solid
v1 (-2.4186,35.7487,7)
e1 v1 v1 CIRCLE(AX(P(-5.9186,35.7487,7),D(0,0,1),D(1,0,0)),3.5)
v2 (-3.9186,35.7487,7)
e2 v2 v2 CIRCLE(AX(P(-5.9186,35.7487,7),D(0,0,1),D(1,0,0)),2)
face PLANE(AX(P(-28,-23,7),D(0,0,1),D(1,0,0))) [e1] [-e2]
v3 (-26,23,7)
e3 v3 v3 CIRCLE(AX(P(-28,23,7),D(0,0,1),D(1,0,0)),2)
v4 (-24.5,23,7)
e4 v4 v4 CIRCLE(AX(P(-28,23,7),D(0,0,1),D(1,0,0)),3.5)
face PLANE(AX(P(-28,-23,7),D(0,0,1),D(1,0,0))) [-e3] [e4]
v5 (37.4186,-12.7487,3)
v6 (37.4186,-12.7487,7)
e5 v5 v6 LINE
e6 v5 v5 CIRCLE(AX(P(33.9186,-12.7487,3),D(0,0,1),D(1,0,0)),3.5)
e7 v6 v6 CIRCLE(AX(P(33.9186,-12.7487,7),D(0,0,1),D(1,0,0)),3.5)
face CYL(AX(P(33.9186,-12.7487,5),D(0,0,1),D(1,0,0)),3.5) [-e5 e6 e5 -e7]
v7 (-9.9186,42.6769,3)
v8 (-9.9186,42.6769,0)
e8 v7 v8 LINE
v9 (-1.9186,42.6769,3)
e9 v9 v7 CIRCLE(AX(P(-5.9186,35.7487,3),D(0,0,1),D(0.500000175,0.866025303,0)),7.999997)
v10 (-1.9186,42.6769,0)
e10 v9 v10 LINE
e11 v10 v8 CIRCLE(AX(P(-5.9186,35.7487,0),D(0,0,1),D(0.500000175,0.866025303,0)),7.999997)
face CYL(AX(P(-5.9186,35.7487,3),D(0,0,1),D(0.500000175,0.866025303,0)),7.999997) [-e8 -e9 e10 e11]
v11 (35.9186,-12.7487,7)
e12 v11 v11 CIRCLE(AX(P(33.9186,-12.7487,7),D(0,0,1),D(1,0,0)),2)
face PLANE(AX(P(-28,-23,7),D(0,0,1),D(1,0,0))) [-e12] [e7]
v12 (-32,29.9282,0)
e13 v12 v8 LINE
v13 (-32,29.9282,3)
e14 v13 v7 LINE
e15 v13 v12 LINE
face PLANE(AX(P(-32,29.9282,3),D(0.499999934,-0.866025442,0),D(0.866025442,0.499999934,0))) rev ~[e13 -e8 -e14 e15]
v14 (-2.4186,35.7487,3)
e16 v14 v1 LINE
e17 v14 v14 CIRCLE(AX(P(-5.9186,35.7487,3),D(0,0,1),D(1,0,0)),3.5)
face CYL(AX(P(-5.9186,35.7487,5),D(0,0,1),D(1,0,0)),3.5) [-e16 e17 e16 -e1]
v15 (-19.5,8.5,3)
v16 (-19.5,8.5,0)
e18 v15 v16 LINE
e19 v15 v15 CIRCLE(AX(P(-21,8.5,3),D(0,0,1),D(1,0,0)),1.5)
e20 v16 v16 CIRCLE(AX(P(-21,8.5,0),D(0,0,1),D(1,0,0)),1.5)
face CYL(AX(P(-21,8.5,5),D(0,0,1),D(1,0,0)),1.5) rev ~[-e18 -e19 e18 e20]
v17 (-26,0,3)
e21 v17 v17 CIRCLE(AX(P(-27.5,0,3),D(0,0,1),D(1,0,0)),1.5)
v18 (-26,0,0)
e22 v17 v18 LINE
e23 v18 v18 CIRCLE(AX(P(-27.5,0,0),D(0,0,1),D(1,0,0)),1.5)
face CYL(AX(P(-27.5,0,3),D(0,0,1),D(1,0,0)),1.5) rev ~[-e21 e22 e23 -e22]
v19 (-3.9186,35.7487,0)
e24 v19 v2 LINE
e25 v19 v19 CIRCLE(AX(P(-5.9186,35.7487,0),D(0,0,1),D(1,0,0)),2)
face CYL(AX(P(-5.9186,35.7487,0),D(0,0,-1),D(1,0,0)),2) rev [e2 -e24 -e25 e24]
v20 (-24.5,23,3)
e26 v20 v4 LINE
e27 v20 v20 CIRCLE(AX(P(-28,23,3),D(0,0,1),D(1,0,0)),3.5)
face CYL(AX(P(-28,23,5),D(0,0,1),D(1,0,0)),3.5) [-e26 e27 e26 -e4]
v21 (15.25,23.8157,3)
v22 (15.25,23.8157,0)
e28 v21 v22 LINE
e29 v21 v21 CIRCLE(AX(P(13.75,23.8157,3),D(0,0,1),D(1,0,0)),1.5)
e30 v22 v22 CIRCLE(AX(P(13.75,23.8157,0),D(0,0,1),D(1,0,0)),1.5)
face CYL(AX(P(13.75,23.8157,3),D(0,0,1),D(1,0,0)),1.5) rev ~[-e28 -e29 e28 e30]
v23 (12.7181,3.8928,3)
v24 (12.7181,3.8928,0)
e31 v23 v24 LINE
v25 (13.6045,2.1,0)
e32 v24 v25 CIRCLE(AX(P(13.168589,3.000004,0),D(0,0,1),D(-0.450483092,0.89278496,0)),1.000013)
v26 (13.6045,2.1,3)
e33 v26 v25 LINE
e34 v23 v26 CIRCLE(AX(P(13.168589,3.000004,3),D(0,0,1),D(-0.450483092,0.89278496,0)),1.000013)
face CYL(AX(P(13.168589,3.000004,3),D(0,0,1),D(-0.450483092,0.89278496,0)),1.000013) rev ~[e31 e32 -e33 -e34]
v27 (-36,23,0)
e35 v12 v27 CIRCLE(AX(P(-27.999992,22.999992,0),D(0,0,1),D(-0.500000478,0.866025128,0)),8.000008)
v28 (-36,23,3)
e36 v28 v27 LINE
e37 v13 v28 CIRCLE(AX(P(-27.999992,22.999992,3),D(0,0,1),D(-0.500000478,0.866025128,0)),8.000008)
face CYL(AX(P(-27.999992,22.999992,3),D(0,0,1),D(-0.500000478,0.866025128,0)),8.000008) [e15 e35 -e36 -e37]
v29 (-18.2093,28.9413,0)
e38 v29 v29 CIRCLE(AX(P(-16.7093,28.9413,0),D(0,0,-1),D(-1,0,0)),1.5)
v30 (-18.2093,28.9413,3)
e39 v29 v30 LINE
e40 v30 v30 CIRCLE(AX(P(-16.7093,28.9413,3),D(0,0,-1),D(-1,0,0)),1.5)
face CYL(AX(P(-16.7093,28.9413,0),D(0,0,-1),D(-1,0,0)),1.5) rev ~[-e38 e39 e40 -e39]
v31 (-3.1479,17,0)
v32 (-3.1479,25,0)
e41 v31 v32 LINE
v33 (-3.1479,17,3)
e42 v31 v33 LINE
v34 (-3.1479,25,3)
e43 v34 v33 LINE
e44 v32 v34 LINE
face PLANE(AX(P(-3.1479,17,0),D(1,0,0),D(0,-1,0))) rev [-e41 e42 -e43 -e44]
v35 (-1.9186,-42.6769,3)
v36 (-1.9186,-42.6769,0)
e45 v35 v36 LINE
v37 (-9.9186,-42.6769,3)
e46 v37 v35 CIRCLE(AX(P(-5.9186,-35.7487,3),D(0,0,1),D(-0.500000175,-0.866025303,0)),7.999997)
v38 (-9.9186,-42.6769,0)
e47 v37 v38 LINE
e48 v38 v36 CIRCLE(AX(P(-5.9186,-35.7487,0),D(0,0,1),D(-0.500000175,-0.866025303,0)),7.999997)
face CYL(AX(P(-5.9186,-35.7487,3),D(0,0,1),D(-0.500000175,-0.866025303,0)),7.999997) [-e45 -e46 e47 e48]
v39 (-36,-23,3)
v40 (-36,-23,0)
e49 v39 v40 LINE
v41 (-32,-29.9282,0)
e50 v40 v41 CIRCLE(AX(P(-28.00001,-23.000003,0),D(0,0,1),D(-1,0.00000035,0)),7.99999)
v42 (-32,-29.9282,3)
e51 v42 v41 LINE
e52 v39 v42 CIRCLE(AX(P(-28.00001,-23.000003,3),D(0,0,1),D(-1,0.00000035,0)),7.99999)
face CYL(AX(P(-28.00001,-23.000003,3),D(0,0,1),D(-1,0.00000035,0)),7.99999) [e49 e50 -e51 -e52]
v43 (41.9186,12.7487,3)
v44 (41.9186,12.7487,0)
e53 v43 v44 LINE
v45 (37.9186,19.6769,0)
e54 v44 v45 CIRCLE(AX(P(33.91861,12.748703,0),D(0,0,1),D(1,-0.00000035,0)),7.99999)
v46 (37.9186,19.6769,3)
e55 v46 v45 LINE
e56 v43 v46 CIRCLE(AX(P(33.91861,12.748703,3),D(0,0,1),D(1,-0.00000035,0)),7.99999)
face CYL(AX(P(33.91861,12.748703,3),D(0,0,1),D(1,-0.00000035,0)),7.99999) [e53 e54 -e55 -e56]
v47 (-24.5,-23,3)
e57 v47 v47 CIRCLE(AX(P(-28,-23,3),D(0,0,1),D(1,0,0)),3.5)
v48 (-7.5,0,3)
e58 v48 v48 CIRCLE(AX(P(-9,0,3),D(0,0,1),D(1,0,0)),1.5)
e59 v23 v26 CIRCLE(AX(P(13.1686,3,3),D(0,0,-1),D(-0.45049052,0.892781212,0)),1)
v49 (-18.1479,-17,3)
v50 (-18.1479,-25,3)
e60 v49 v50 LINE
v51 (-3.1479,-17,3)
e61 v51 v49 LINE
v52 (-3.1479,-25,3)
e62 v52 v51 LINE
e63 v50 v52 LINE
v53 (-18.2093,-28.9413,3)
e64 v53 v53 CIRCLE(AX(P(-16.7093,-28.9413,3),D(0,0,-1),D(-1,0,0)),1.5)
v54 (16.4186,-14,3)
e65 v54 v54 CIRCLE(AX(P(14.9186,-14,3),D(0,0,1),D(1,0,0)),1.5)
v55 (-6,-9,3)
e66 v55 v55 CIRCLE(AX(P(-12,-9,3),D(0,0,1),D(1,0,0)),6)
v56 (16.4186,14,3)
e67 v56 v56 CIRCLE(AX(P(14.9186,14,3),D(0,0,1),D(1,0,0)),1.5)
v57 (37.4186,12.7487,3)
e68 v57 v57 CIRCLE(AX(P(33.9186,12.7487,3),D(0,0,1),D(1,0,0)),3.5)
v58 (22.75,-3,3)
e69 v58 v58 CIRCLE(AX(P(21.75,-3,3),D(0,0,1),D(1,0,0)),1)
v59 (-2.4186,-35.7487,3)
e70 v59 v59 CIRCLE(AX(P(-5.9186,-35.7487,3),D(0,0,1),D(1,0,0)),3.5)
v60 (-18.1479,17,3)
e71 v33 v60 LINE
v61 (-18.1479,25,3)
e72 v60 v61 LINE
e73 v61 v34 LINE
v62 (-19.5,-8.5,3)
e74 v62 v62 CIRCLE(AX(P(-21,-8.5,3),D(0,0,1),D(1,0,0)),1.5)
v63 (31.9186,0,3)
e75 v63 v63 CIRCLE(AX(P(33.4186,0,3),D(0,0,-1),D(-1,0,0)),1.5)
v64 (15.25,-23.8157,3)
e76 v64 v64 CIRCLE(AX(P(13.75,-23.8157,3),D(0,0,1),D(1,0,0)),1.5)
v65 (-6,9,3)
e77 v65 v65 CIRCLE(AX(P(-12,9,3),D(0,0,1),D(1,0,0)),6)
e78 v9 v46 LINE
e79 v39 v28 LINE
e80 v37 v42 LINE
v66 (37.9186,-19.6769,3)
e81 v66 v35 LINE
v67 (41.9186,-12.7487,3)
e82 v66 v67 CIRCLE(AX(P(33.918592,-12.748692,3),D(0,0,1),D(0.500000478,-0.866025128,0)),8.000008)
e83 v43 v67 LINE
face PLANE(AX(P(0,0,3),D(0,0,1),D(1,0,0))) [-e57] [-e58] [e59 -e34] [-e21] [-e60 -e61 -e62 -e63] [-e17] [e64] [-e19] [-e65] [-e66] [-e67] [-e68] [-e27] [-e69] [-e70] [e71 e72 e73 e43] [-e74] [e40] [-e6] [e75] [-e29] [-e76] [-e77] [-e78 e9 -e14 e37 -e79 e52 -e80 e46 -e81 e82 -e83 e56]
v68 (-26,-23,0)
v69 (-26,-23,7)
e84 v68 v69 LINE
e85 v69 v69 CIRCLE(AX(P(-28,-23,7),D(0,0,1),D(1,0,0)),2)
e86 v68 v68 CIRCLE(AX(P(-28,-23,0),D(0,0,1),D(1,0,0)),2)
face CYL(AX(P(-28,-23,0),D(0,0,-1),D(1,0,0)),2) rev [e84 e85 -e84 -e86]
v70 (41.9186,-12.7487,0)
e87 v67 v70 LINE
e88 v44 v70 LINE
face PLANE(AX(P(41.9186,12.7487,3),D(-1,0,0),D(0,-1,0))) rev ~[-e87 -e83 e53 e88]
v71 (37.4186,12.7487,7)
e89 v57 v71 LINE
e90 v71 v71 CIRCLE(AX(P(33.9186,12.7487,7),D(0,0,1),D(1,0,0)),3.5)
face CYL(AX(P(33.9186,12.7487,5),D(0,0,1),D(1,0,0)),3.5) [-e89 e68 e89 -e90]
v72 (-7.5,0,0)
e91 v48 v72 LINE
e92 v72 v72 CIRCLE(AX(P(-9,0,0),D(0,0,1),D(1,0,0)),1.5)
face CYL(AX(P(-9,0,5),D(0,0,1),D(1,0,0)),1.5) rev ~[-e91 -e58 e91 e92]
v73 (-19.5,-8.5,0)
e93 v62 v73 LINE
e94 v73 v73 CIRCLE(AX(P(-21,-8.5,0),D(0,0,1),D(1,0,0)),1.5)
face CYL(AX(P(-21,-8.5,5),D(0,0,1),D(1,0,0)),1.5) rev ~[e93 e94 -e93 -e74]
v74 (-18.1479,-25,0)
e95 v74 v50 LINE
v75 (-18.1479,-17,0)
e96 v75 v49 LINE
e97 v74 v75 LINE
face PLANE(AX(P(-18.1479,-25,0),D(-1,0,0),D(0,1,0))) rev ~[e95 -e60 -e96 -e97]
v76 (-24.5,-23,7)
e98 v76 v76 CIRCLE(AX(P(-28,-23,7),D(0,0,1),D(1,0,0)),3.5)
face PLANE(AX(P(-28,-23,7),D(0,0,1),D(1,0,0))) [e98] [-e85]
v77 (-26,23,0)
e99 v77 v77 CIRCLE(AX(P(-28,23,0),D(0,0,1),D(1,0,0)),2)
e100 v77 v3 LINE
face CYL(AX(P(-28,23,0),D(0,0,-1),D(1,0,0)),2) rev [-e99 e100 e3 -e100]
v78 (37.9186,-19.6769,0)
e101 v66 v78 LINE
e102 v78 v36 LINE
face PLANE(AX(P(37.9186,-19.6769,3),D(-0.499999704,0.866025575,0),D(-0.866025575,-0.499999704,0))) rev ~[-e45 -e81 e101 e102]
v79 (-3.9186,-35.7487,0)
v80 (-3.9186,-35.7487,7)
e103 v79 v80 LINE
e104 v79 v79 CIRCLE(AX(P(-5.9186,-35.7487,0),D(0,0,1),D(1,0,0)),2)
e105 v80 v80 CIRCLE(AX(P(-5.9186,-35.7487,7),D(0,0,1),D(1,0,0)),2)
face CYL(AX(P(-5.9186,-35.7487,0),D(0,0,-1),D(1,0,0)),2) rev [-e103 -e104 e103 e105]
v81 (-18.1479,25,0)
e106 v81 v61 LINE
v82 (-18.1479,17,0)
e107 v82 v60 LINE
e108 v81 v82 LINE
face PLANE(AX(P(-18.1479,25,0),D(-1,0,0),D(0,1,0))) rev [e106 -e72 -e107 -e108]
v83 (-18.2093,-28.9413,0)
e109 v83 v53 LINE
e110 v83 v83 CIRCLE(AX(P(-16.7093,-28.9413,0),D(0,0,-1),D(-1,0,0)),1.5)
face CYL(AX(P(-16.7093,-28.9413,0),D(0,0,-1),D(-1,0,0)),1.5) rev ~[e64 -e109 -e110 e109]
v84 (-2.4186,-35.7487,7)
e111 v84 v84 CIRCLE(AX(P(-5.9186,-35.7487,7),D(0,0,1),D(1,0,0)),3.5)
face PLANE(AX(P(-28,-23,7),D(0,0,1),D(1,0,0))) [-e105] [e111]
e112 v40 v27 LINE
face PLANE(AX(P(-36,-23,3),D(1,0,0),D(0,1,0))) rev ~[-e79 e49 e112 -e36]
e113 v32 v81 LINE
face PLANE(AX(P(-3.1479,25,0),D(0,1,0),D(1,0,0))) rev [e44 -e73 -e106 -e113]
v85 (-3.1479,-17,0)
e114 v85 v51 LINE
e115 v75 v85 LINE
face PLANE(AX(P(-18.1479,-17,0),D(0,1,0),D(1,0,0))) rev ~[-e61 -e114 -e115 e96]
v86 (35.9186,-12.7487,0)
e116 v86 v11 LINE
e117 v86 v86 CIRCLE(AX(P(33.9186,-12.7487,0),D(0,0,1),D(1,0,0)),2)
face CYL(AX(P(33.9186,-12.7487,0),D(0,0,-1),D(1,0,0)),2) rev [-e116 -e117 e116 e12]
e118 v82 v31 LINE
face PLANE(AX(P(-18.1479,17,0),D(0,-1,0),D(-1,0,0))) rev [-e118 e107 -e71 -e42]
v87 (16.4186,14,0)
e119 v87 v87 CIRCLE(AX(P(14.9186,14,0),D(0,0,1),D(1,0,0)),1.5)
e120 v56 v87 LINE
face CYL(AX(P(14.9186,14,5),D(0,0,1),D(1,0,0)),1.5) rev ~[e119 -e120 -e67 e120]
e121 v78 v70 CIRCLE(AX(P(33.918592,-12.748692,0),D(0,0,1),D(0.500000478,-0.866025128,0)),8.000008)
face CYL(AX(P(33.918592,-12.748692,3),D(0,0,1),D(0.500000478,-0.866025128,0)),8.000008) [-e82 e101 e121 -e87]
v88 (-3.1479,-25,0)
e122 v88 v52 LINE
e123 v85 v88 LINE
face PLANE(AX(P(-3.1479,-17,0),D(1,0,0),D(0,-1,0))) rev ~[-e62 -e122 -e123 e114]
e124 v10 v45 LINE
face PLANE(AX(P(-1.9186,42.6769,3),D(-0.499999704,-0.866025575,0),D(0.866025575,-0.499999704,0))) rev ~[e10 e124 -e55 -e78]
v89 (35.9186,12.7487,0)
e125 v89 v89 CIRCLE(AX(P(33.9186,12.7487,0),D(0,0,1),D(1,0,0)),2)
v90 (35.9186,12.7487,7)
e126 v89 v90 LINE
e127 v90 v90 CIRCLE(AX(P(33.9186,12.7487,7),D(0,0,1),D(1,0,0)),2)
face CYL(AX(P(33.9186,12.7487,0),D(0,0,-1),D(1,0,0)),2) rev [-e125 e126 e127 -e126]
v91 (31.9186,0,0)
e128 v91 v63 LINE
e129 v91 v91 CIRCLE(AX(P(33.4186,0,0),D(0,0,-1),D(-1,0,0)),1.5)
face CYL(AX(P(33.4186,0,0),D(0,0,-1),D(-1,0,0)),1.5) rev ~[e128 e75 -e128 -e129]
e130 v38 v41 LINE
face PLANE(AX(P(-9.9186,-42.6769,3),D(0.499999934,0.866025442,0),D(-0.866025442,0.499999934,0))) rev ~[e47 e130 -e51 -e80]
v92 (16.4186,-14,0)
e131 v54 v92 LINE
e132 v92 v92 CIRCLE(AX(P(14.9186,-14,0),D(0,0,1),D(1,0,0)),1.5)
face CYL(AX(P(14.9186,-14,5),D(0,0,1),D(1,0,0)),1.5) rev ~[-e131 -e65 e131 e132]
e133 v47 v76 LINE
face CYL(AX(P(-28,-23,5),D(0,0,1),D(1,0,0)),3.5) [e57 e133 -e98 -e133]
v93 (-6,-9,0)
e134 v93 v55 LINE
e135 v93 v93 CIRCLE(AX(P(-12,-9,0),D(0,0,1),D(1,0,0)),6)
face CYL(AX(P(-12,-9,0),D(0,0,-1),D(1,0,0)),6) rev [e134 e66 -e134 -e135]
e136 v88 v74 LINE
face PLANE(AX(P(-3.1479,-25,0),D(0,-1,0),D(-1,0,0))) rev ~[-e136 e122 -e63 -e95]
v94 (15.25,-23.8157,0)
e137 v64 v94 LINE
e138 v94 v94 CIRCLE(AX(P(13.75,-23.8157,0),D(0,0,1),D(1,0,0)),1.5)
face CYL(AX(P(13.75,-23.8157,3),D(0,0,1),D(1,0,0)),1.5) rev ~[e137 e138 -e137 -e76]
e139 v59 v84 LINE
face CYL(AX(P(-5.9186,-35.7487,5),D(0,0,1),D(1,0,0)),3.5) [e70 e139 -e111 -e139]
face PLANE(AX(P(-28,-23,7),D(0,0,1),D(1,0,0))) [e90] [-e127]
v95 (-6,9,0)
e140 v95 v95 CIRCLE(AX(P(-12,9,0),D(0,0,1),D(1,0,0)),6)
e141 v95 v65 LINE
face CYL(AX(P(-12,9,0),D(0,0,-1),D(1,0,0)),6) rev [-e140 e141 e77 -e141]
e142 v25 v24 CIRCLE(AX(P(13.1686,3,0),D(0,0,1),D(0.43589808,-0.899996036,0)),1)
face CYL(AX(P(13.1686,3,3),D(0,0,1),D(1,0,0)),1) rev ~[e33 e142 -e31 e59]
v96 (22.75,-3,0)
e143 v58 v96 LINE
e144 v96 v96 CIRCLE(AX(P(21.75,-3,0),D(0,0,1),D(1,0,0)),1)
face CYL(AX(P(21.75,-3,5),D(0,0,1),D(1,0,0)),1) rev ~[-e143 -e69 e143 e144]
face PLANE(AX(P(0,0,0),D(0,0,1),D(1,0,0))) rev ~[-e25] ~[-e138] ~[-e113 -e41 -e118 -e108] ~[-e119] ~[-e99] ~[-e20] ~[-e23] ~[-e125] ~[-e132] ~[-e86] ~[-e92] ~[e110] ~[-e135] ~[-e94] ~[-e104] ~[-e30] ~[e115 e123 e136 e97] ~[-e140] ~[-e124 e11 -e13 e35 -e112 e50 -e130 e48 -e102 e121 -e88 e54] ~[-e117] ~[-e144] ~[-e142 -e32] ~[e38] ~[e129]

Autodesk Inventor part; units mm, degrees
ref_plane "YZ Plane" through (0, 0, 0) normal (1, 0, 0) x (0, 1, 0)
ref_plane "XZ Plane" through (0, 0, 0) normal (0, 1, 0) x (-1, 0, 0)
ref_plane "XY Plane" through (0, 0, 0) normal (0, 0, 1) x (1, 0, 0)
sketch "Sketch1" plane through (0, 0, 0) normal (0, 0, 1) x (1, 0, 0)
  circle A0 centre (-12, 9) radius 6
  circle A1 centre (-12, -9) radius 6
  circle A2 centre (-28, 23) radius 2
  circle A3 centre (-28, -23) radius 2
  arc A4 (-31.4115, -18.0643) -> (-23.8208, -27.3051) centre (-28, -23) ccw
  arc A5 (-23.8208, 27.3051) -> (-31.4115, 18.0643) centre (-28, 23) ccw
  line L0 (-28, 23) -> (-28, -23) construction
  circle A6 centre (0, 0) radius 36.2353 construction
  arc A7 (-11.7365, -34.282) -> (0.0617, -36.2353) centre (-5.9186, -35.7487) ccw
  circle A8 centre (-5.9186, -35.7487) radius 2
  arc A9 (31.3499, -18.171) -> (35.5573, -6.9768) centre (33.9186, -12.7487) ccw
  circle A10 centre (33.9186, -12.7487) radius 2
  arc A11 (35.5573, 6.9768) -> (31.3499, 18.171) centre (33.9186, 12.7487) ccw
  circle A12 centre (33.9186, 12.7487) radius 2
  arc A13 (0.0617, 36.2353) -> (-11.7365, 34.282) centre (-5.9186, 35.7487) ccw
  circle A14 centre (-5.9186, 35.7487) radius 2
  line L1 (33.9186, 12.7487) -> (33.9186, -12.7487) construction
  line L2 (-34, 23) -> (-34, -23)
  line L3 (39.9186, 12.7487) -> (39.9186, -12.7487)
  line L4 (-31, 28.1962) -> (-8.9186, 40.9449)
  line L5 (-2.9186, 40.9449) -> (36.9186, 17.9449)
  line L6 (36.9186, -17.9449) -> (-2.9186, -40.9449)
  line L7 (-31, -28.1962) -> (-8.9186, -40.9449)
  dimension "d0" = 12
  dimension "d1" = 12
  dimension "d4" = 4
  dimension "d5" = 4
  dimension "d6" = 46
  dimension "d7" = 23
  dimension "d8" = 28
  dimension "d9" = 28
  dimension "d10" = 12
  dimension "d11" = 12
  dimension "d15" = 360
  dimension "d42" = 25.4974
  dimension "d45" = 9
  dimension "d46" = 9
  dimension "d48" = 22
  dimension "d49" = 22
extrude "Extrusion1" add sketch "Sketch1" along normal blind 5
sketch "Sketch2" plane through (0, 0, 5) normal (0, 0, 1) x (1, 0, 0)
  circle A0 centre (-12, 9) radius 6 projected
  circle A1 centre (-12, -9) radius 6 projected
  circle A2 centre (-9, 0) radius 1.5
  circle A3 centre (-21, 8.5) radius 1.5
  circle A4 centre (-21, -8.5) radius 1.5
  point P0 (0, 0)
  dimension "d19" = 3
  dimension "d20" = 3
  dimension "d21" = 3
  dimension "d23" = 21
  dimension "d24" = 21
  dimension "d25" = 17
  dimension "d26" = 8.5
  dimension "d47" = 9
extrude "Extrusion2" cut sketch "Sketch2" against normal through all contours A2 | A3 | A4
sketch "Sketch3" plane through (0, 0, 5) normal (0, 0, 1) x (1, 0, 0)
  circle A0 centre (14.9186, 14) radius 1.5
  circle A1 centre (14.9186, -14) radius 1.5
  line L0 (39.9186, -12.7487) -> (39.9186, 12.7487) projected
  point P0 (0, 0)
  dimension "d29" = 3
  dimension "d30" = 3
  dimension "d31" = 28
  dimension "d33" = 14
  dimension "d77" = 25
  dimension "d78" = 25
extrude "Extrusion3" cut sketch "Sketch3" against normal through all
sketch "Sketch6" plane through (0, 0, 5) normal (0, 0, 1) x (1, 0, 0)
  arc A0 (22.75, -18) -> (24.75, -16) centre (22.75, -16) ccw projected
  line L0 (22.75, -18) -> (17.25, -18) projected
  arc A1 (15.25, -16) -> (17.25, -18) centre (17.25, -16) ccw projected
  line L1 (15.25, -16) -> (15.25, 16) projected
  arc A2 (17.25, 18) -> (15.25, 16) centre (17.25, 16) ccw projected
  line L2 (17.25, 18) -> (22.75, 18) projected
  arc A3 (24.75, 16) -> (22.75, 18) centre (22.75, 16) ccw projected
  line L3 (24.75, 16) -> (24.75, -16) projected
  circle A4 centre (20, -14) radius 1.5 projected
  circle A5 centre (20, 14) radius 1.5 projected
  circle A6 centre (21.75, -3) radius 1 projected
  point P0 (0, 0)
extrude "Extrusion5" cut sketch "Sketch6" against normal through all contours A6
thread "Thread1" size "M4x0.7" class "6H" standard "ANSI Metric M Profile" full length
thread "Thread2" size "M4x0.7" class "6H" standard "ANSI Metric M Profile" full length
thread "Thread3" size "M4x0.7" class "6H" standard "ANSI Metric M Profile" full length
thread "Thread4" size "M4x0.7" class "6H" standard "ANSI Metric M Profile" full length
thread "Thread5" size "M4x0.7" class "6H" standard "ANSI Metric M Profile" full length
thread "Thread6" size "M4x0.7" class "6H" standard "ANSI Metric M Profile" full length
sketch "Sketch8" plane through (0, 0, 5) normal (0, 0, 1) x (1, 0, 0)
  circle A0 centre (-28, 23) radius 2 projected
  circle A1 centre (-5.9186, 35.7487) radius 2 projected
  circle A2 centre (33.9186, 12.7487) radius 2 projected
  circle A3 centre (33.9186, -12.7487) radius 2 projected
  circle A4 centre (-5.9186, -35.7487) radius 2 projected
  circle A5 centre (-28, -23) radius 2 projected
  circle A6 centre (21.75, -3) radius 1 projected
  circle A7 centre (14.9186, 14) radius 1.5 projected
  circle A8 centre (14.9186, -14) radius 1.5 projected
  circle A9 centre (-21, 8.5) radius 1.5 projected
  circle A10 centre (-9, 0) radius 1.5 projected
  circle A11 centre (-21, -8.5) radius 1.5 projected
  circle A12 centre (-12, -9) radius 6 projected
  circle A13 centre (-12, 9) radius 6 projected
  circle A14 centre (-5.9186, 35.7487) radius 2 projected
  circle A15 centre (33.9186, 12.7487) radius 2 projected
  circle A16 centre (33.9186, -12.7487) radius 2 projected
  circle A17 centre (-5.9186, -35.7487) radius 2 projected
  circle A18 centre (-28, -23) radius 2 projected
  circle A19 centre (-28, 23) radius 2 projected
  arc A20 (-31, 28.1962) -> (-34, 23) centre (-28, 23) ccw projected
  line L0 (-34, 23) -> (-34, -23) projected
  arc A21 (-34, -23) -> (-31, -28.1962) centre (-28, -23) ccw projected
  line L1 (-31, -28.1962) -> (-8.9186, -40.9449) projected
  arc A22 (-8.9186, -40.9449) -> (-2.9186, -40.9449) centre (-5.9186, -35.7487) ccw projected
  line L2 (-2.9186, -40.9449) -> (36.9186, -17.9449) projected
  arc A23 (36.9186, -17.9449) -> (39.9186, -12.7487) centre (33.9186, -12.7487) ccw projected
  line L3 (39.9186, -12.7487) -> (39.9186, 12.7487) projected
  arc A24 (39.9186, 12.7487) -> (36.9186, 17.9449) centre (33.9186, 12.7487) ccw projected
  line L4 (36.9186, 17.9449) -> (-2.9186, 40.9449) projected
  arc A25 (-2.9186, 40.9449) -> (-8.9186, 40.9449) centre (-5.9186, 35.7487) ccw projected
  line L5 (-8.9186, 40.9449) -> (-31, 28.1962) projected
  circle A26 centre (-28, 23) radius 3.5
  circle A27 centre (-5.9186, 35.7487) radius 3.5
  circle A28 centre (33.9186, 12.7487) radius 3.5
  circle A29 centre (33.9186, -12.7487) radius 3.5
  circle A30 centre (-5.9186, -35.7487) radius 3.5
  circle A31 centre (-28, -23) radius 3.5
  point P0 (0, 0)
  dimension "d62" = 1.5
  dimension "d63" = 1.5
  dimension "d64" = 1.5
  dimension "d65" = 1.5
  dimension "d66" = 1.5
  dimension "d67" = 1.5
extrude "Extrusion6" cut sketch "Sketch8" against normal blind 2 contours L5 A25 L4 A24 L3 A23 L2 A22 L1 A21 L0 A20
sketch "Sketch9" plane through (-28, -23, 5) normal (0, 0, 1) x (1, 0, 0)
  circle A0 centre (0, 0) radius 3.5 projected
  circle A1 centre (0, 46) radius 3.5 projected
  circle A2 centre (22.0814, 58.7487) radius 2 projected
  circle A3 centre (22.0814, 58.7487) radius 3.5 projected
  circle A4 centre (0, 46) radius 2 projected
  circle A5 centre (0, 0) radius 2 projected
  circle A6 centre (22.0814, -12.7487) radius 3.5 projected
  circle A7 centre (22.0814, -12.7487) radius 2 projected
  circle A8 centre (61.9186, 10.2513) radius 3.5 projected
  circle A9 centre (61.9186, 10.2513) radius 2 projected
  circle A10 centre (61.9186, 35.7487) radius 2 projected
  circle A11 centre (61.9186, 35.7487) radius 3.5 projected
  point P0 (28, 23)
extrude "Extrusion7" add sketch "Sketch9" along normal blind 2
sketch "Sketch10" plane through (0, 0, 3) normal (0, 0, 1) x (1, 0, 0)
  circle A0 centre (-12, 9) radius 6 projected
  circle A1 centre (-12, -9) radius 6 projected
  circle A2 centre (-28, -23) radius 3.5 projected
  circle A3 centre (-5.9186, -35.7487) radius 3.5 projected
  circle A4 centre (33.9186, -12.7487) radius 3.5 projected
  circle A5 centre (33.9186, 12.7487) radius 3.5 projected
  circle A6 centre (-5.9186, 35.7487) radius 3.5 projected
  circle A7 centre (-28, 23) radius 3.5 projected
  circle A8 centre (-21, -8.5) radius 1.5 projected
  circle A9 centre (-9, 0) radius 1.5 projected
  circle A10 centre (-21, 8.5) radius 1.5 projected
  circle A11 centre (14.9186, -14) radius 1.5 projected
  circle A12 centre (14.9186, 14) radius 1.5 projected
  circle A13 centre (21.75, -3) radius 1 projected
  arc A14 (-31, 28.1962) -> (-34, 23) centre (-28, 23) ccw projected
  line L0 (-34, -23) -> (-34, 23) projected
  arc A15 (-34, -23) -> (-31, -28.1962) centre (-28, -23) ccw projected
  line L1 (-8.9186, -40.9449) -> (-31, -28.1962) projected
  arc A16 (-8.9186, -40.9449) -> (-2.9186, -40.9449) centre (-5.9186, -35.7487) ccw projected
  line L2 (36.9186, -17.9449) -> (-2.9186, -40.9449) projected
  arc A17 (36.9186, -17.9449) -> (39.9186, -12.7487) centre (33.9186, -12.7487) ccw projected
  line L3 (39.9186, 12.7487) -> (39.9186, -12.7487) projected
  arc A18 (39.9186, 12.7487) -> (36.9186, 17.9449) centre (33.9186, 12.7487) ccw projected
  line L4 (-2.9186, 40.9449) -> (36.9186, 17.9449) projected
  arc A19 (-2.9186, 40.9449) -> (-8.9186, 40.9449) centre (-5.9186, 35.7487) ccw projected
  line L5 (-31, 28.1962) -> (-8.9186, 40.9449) projected
  arc A20 (-32, 29.9282) -> (-36, 23) centre (-28, 23) ccw
  line L6 (-32, 29.9282) -> (-9.9186, 42.6769)
  arc A21 (-1.9186, 42.6769) -> (-9.9186, 42.6769) centre (-5.9186, 35.7487) ccw
  line L7 (-1.9186, 42.6769) -> (37.9186, 19.6769)
  arc A22 (41.9186, 12.7487) -> (37.9186, 19.6769) centre (33.9186, 12.7487) ccw
  line L8 (41.9186, 12.7487) -> (41.9186, -12.7487)
  arc A23 (37.9186, -19.6769) -> (41.9186, -12.7487) centre (33.9186, -12.7487) ccw
  line L9 (37.9186, -19.6769) -> (-1.9186, -42.6769)
  arc A24 (-9.9186, -42.6769) -> (-1.9186, -42.6769) centre (-5.9186, -35.7487) ccw
  line L10 (-9.9186, -42.6769) -> (-32, -29.9282)
  arc A25 (-36, -23) -> (-32, -29.9282) centre (-28, -23) ccw
  line L11 (-36, -23) -> (-36, 23)
  point P0 (0, 0)
  dimension "d72" = 2
extrude "Extrusion8" add sketch "Sketch10" against normal up to surface (3 mm away) contours L6 A21 L7 A22 L8 A23 L9 A24 L10 A25 L11 A20
sketch "Sketch11" plane through (0, 0, 0) normal (0, 0, -1) x (-1, 0, 0)
  circle A0 centre (-33.4186, 0) radius 1.5
  line L0 (-41.9186, 12.7487) -> (-41.9186, -12.7487) projected
  line L1 (0, 0) -> (-49.8844, 0) construction
  circle A1 centre (16.7093, -28.9413) radius 1.5
  circle A2 centre (16.7093, 28.9413) radius 1.5
  dimension "d97" = 8.5
  dimension "d98" = 0
  dimension "d101" = 360
extrude "Extrusion9" cut sketch "Sketch11" against normal through all
sketch "Sketch12" plane through (0, 0, 3) normal (0, 0, 1) x (1, 0, 0)
  arc A0 (12.7181, 3.8928) -> (13.6045, 2.1) centre (13.1686, 3) ccw
  circle A1 centre (13.1686, 3) radius 1
  point P0 (0, 0)
extrude "Extrusion10" cut sketch "Sketch12" against normal through all
sketch "Sketch13" plane through (0, 0, 0) normal (0, 0, -1) x (-1, 0, 0)
  line L0 (6, 15) -> (6, -15)
  line L1 (24, 15) -> (6, 15)
  line L2 (24, -15) -> (6, -15)
  line L3 (9.9186, -42.6769) -> (32, -29.9282) projected
  line L4 (3.1479, -25) -> (18.1479, -25)
  line L5 (18.1479, -25) -> (18.1479, -17)
  line L6 (18.1479, -17) -> (3.1479, -17)
  line L7 (3.1479, -17) -> (3.1479, -25)
  point P0 (0, 0)
  dimension "d84" = 8
  dimension "d85" = 15
  dimension "d86" = 2
extrude "Extrusion11" cut sketch "Sketch13" against normal through all
mirror "Mirror1" about plane through (0, 0, 0) normal (0, 1, 0) of "Extrusion11"
sketch "Sketch14" plane through (0, 0, 3) normal (0, 0, 1) x (1, 0, 0)
  circle A0 centre (-27.5, 0) radius 1.5
  line L0 (-36, -23) -> (-36, 23) projected
  circle A1 centre (13.75, -23.8157) radius 1.5
  circle A2 centre (13.75, 23.8157) radius 1.5
  point P0 (0, 0)
  dimension "d89" = 3
  dimension "d90" = 8.5
  dimension "d93" = 360
extrude "Extrusion12" cut sketch "Sketch14" against normal through all
equation "\"d1\" = d0"
equation "\"d5\" = d4"
equation "\"d7\" = 0.5 * d6"
equation "\"d9\" = d8"
equation "\"d10\" = d11"
equation "\"d46\" = d45"
equation "\"d49\" = d48"
equation "\"d24\" = d23"
equation "\"d26\" = 0.5 * d25"
equation "\"d33\" = 0.5 * d31"
equation "\"d78\" = d77"
properties part number "efector"
